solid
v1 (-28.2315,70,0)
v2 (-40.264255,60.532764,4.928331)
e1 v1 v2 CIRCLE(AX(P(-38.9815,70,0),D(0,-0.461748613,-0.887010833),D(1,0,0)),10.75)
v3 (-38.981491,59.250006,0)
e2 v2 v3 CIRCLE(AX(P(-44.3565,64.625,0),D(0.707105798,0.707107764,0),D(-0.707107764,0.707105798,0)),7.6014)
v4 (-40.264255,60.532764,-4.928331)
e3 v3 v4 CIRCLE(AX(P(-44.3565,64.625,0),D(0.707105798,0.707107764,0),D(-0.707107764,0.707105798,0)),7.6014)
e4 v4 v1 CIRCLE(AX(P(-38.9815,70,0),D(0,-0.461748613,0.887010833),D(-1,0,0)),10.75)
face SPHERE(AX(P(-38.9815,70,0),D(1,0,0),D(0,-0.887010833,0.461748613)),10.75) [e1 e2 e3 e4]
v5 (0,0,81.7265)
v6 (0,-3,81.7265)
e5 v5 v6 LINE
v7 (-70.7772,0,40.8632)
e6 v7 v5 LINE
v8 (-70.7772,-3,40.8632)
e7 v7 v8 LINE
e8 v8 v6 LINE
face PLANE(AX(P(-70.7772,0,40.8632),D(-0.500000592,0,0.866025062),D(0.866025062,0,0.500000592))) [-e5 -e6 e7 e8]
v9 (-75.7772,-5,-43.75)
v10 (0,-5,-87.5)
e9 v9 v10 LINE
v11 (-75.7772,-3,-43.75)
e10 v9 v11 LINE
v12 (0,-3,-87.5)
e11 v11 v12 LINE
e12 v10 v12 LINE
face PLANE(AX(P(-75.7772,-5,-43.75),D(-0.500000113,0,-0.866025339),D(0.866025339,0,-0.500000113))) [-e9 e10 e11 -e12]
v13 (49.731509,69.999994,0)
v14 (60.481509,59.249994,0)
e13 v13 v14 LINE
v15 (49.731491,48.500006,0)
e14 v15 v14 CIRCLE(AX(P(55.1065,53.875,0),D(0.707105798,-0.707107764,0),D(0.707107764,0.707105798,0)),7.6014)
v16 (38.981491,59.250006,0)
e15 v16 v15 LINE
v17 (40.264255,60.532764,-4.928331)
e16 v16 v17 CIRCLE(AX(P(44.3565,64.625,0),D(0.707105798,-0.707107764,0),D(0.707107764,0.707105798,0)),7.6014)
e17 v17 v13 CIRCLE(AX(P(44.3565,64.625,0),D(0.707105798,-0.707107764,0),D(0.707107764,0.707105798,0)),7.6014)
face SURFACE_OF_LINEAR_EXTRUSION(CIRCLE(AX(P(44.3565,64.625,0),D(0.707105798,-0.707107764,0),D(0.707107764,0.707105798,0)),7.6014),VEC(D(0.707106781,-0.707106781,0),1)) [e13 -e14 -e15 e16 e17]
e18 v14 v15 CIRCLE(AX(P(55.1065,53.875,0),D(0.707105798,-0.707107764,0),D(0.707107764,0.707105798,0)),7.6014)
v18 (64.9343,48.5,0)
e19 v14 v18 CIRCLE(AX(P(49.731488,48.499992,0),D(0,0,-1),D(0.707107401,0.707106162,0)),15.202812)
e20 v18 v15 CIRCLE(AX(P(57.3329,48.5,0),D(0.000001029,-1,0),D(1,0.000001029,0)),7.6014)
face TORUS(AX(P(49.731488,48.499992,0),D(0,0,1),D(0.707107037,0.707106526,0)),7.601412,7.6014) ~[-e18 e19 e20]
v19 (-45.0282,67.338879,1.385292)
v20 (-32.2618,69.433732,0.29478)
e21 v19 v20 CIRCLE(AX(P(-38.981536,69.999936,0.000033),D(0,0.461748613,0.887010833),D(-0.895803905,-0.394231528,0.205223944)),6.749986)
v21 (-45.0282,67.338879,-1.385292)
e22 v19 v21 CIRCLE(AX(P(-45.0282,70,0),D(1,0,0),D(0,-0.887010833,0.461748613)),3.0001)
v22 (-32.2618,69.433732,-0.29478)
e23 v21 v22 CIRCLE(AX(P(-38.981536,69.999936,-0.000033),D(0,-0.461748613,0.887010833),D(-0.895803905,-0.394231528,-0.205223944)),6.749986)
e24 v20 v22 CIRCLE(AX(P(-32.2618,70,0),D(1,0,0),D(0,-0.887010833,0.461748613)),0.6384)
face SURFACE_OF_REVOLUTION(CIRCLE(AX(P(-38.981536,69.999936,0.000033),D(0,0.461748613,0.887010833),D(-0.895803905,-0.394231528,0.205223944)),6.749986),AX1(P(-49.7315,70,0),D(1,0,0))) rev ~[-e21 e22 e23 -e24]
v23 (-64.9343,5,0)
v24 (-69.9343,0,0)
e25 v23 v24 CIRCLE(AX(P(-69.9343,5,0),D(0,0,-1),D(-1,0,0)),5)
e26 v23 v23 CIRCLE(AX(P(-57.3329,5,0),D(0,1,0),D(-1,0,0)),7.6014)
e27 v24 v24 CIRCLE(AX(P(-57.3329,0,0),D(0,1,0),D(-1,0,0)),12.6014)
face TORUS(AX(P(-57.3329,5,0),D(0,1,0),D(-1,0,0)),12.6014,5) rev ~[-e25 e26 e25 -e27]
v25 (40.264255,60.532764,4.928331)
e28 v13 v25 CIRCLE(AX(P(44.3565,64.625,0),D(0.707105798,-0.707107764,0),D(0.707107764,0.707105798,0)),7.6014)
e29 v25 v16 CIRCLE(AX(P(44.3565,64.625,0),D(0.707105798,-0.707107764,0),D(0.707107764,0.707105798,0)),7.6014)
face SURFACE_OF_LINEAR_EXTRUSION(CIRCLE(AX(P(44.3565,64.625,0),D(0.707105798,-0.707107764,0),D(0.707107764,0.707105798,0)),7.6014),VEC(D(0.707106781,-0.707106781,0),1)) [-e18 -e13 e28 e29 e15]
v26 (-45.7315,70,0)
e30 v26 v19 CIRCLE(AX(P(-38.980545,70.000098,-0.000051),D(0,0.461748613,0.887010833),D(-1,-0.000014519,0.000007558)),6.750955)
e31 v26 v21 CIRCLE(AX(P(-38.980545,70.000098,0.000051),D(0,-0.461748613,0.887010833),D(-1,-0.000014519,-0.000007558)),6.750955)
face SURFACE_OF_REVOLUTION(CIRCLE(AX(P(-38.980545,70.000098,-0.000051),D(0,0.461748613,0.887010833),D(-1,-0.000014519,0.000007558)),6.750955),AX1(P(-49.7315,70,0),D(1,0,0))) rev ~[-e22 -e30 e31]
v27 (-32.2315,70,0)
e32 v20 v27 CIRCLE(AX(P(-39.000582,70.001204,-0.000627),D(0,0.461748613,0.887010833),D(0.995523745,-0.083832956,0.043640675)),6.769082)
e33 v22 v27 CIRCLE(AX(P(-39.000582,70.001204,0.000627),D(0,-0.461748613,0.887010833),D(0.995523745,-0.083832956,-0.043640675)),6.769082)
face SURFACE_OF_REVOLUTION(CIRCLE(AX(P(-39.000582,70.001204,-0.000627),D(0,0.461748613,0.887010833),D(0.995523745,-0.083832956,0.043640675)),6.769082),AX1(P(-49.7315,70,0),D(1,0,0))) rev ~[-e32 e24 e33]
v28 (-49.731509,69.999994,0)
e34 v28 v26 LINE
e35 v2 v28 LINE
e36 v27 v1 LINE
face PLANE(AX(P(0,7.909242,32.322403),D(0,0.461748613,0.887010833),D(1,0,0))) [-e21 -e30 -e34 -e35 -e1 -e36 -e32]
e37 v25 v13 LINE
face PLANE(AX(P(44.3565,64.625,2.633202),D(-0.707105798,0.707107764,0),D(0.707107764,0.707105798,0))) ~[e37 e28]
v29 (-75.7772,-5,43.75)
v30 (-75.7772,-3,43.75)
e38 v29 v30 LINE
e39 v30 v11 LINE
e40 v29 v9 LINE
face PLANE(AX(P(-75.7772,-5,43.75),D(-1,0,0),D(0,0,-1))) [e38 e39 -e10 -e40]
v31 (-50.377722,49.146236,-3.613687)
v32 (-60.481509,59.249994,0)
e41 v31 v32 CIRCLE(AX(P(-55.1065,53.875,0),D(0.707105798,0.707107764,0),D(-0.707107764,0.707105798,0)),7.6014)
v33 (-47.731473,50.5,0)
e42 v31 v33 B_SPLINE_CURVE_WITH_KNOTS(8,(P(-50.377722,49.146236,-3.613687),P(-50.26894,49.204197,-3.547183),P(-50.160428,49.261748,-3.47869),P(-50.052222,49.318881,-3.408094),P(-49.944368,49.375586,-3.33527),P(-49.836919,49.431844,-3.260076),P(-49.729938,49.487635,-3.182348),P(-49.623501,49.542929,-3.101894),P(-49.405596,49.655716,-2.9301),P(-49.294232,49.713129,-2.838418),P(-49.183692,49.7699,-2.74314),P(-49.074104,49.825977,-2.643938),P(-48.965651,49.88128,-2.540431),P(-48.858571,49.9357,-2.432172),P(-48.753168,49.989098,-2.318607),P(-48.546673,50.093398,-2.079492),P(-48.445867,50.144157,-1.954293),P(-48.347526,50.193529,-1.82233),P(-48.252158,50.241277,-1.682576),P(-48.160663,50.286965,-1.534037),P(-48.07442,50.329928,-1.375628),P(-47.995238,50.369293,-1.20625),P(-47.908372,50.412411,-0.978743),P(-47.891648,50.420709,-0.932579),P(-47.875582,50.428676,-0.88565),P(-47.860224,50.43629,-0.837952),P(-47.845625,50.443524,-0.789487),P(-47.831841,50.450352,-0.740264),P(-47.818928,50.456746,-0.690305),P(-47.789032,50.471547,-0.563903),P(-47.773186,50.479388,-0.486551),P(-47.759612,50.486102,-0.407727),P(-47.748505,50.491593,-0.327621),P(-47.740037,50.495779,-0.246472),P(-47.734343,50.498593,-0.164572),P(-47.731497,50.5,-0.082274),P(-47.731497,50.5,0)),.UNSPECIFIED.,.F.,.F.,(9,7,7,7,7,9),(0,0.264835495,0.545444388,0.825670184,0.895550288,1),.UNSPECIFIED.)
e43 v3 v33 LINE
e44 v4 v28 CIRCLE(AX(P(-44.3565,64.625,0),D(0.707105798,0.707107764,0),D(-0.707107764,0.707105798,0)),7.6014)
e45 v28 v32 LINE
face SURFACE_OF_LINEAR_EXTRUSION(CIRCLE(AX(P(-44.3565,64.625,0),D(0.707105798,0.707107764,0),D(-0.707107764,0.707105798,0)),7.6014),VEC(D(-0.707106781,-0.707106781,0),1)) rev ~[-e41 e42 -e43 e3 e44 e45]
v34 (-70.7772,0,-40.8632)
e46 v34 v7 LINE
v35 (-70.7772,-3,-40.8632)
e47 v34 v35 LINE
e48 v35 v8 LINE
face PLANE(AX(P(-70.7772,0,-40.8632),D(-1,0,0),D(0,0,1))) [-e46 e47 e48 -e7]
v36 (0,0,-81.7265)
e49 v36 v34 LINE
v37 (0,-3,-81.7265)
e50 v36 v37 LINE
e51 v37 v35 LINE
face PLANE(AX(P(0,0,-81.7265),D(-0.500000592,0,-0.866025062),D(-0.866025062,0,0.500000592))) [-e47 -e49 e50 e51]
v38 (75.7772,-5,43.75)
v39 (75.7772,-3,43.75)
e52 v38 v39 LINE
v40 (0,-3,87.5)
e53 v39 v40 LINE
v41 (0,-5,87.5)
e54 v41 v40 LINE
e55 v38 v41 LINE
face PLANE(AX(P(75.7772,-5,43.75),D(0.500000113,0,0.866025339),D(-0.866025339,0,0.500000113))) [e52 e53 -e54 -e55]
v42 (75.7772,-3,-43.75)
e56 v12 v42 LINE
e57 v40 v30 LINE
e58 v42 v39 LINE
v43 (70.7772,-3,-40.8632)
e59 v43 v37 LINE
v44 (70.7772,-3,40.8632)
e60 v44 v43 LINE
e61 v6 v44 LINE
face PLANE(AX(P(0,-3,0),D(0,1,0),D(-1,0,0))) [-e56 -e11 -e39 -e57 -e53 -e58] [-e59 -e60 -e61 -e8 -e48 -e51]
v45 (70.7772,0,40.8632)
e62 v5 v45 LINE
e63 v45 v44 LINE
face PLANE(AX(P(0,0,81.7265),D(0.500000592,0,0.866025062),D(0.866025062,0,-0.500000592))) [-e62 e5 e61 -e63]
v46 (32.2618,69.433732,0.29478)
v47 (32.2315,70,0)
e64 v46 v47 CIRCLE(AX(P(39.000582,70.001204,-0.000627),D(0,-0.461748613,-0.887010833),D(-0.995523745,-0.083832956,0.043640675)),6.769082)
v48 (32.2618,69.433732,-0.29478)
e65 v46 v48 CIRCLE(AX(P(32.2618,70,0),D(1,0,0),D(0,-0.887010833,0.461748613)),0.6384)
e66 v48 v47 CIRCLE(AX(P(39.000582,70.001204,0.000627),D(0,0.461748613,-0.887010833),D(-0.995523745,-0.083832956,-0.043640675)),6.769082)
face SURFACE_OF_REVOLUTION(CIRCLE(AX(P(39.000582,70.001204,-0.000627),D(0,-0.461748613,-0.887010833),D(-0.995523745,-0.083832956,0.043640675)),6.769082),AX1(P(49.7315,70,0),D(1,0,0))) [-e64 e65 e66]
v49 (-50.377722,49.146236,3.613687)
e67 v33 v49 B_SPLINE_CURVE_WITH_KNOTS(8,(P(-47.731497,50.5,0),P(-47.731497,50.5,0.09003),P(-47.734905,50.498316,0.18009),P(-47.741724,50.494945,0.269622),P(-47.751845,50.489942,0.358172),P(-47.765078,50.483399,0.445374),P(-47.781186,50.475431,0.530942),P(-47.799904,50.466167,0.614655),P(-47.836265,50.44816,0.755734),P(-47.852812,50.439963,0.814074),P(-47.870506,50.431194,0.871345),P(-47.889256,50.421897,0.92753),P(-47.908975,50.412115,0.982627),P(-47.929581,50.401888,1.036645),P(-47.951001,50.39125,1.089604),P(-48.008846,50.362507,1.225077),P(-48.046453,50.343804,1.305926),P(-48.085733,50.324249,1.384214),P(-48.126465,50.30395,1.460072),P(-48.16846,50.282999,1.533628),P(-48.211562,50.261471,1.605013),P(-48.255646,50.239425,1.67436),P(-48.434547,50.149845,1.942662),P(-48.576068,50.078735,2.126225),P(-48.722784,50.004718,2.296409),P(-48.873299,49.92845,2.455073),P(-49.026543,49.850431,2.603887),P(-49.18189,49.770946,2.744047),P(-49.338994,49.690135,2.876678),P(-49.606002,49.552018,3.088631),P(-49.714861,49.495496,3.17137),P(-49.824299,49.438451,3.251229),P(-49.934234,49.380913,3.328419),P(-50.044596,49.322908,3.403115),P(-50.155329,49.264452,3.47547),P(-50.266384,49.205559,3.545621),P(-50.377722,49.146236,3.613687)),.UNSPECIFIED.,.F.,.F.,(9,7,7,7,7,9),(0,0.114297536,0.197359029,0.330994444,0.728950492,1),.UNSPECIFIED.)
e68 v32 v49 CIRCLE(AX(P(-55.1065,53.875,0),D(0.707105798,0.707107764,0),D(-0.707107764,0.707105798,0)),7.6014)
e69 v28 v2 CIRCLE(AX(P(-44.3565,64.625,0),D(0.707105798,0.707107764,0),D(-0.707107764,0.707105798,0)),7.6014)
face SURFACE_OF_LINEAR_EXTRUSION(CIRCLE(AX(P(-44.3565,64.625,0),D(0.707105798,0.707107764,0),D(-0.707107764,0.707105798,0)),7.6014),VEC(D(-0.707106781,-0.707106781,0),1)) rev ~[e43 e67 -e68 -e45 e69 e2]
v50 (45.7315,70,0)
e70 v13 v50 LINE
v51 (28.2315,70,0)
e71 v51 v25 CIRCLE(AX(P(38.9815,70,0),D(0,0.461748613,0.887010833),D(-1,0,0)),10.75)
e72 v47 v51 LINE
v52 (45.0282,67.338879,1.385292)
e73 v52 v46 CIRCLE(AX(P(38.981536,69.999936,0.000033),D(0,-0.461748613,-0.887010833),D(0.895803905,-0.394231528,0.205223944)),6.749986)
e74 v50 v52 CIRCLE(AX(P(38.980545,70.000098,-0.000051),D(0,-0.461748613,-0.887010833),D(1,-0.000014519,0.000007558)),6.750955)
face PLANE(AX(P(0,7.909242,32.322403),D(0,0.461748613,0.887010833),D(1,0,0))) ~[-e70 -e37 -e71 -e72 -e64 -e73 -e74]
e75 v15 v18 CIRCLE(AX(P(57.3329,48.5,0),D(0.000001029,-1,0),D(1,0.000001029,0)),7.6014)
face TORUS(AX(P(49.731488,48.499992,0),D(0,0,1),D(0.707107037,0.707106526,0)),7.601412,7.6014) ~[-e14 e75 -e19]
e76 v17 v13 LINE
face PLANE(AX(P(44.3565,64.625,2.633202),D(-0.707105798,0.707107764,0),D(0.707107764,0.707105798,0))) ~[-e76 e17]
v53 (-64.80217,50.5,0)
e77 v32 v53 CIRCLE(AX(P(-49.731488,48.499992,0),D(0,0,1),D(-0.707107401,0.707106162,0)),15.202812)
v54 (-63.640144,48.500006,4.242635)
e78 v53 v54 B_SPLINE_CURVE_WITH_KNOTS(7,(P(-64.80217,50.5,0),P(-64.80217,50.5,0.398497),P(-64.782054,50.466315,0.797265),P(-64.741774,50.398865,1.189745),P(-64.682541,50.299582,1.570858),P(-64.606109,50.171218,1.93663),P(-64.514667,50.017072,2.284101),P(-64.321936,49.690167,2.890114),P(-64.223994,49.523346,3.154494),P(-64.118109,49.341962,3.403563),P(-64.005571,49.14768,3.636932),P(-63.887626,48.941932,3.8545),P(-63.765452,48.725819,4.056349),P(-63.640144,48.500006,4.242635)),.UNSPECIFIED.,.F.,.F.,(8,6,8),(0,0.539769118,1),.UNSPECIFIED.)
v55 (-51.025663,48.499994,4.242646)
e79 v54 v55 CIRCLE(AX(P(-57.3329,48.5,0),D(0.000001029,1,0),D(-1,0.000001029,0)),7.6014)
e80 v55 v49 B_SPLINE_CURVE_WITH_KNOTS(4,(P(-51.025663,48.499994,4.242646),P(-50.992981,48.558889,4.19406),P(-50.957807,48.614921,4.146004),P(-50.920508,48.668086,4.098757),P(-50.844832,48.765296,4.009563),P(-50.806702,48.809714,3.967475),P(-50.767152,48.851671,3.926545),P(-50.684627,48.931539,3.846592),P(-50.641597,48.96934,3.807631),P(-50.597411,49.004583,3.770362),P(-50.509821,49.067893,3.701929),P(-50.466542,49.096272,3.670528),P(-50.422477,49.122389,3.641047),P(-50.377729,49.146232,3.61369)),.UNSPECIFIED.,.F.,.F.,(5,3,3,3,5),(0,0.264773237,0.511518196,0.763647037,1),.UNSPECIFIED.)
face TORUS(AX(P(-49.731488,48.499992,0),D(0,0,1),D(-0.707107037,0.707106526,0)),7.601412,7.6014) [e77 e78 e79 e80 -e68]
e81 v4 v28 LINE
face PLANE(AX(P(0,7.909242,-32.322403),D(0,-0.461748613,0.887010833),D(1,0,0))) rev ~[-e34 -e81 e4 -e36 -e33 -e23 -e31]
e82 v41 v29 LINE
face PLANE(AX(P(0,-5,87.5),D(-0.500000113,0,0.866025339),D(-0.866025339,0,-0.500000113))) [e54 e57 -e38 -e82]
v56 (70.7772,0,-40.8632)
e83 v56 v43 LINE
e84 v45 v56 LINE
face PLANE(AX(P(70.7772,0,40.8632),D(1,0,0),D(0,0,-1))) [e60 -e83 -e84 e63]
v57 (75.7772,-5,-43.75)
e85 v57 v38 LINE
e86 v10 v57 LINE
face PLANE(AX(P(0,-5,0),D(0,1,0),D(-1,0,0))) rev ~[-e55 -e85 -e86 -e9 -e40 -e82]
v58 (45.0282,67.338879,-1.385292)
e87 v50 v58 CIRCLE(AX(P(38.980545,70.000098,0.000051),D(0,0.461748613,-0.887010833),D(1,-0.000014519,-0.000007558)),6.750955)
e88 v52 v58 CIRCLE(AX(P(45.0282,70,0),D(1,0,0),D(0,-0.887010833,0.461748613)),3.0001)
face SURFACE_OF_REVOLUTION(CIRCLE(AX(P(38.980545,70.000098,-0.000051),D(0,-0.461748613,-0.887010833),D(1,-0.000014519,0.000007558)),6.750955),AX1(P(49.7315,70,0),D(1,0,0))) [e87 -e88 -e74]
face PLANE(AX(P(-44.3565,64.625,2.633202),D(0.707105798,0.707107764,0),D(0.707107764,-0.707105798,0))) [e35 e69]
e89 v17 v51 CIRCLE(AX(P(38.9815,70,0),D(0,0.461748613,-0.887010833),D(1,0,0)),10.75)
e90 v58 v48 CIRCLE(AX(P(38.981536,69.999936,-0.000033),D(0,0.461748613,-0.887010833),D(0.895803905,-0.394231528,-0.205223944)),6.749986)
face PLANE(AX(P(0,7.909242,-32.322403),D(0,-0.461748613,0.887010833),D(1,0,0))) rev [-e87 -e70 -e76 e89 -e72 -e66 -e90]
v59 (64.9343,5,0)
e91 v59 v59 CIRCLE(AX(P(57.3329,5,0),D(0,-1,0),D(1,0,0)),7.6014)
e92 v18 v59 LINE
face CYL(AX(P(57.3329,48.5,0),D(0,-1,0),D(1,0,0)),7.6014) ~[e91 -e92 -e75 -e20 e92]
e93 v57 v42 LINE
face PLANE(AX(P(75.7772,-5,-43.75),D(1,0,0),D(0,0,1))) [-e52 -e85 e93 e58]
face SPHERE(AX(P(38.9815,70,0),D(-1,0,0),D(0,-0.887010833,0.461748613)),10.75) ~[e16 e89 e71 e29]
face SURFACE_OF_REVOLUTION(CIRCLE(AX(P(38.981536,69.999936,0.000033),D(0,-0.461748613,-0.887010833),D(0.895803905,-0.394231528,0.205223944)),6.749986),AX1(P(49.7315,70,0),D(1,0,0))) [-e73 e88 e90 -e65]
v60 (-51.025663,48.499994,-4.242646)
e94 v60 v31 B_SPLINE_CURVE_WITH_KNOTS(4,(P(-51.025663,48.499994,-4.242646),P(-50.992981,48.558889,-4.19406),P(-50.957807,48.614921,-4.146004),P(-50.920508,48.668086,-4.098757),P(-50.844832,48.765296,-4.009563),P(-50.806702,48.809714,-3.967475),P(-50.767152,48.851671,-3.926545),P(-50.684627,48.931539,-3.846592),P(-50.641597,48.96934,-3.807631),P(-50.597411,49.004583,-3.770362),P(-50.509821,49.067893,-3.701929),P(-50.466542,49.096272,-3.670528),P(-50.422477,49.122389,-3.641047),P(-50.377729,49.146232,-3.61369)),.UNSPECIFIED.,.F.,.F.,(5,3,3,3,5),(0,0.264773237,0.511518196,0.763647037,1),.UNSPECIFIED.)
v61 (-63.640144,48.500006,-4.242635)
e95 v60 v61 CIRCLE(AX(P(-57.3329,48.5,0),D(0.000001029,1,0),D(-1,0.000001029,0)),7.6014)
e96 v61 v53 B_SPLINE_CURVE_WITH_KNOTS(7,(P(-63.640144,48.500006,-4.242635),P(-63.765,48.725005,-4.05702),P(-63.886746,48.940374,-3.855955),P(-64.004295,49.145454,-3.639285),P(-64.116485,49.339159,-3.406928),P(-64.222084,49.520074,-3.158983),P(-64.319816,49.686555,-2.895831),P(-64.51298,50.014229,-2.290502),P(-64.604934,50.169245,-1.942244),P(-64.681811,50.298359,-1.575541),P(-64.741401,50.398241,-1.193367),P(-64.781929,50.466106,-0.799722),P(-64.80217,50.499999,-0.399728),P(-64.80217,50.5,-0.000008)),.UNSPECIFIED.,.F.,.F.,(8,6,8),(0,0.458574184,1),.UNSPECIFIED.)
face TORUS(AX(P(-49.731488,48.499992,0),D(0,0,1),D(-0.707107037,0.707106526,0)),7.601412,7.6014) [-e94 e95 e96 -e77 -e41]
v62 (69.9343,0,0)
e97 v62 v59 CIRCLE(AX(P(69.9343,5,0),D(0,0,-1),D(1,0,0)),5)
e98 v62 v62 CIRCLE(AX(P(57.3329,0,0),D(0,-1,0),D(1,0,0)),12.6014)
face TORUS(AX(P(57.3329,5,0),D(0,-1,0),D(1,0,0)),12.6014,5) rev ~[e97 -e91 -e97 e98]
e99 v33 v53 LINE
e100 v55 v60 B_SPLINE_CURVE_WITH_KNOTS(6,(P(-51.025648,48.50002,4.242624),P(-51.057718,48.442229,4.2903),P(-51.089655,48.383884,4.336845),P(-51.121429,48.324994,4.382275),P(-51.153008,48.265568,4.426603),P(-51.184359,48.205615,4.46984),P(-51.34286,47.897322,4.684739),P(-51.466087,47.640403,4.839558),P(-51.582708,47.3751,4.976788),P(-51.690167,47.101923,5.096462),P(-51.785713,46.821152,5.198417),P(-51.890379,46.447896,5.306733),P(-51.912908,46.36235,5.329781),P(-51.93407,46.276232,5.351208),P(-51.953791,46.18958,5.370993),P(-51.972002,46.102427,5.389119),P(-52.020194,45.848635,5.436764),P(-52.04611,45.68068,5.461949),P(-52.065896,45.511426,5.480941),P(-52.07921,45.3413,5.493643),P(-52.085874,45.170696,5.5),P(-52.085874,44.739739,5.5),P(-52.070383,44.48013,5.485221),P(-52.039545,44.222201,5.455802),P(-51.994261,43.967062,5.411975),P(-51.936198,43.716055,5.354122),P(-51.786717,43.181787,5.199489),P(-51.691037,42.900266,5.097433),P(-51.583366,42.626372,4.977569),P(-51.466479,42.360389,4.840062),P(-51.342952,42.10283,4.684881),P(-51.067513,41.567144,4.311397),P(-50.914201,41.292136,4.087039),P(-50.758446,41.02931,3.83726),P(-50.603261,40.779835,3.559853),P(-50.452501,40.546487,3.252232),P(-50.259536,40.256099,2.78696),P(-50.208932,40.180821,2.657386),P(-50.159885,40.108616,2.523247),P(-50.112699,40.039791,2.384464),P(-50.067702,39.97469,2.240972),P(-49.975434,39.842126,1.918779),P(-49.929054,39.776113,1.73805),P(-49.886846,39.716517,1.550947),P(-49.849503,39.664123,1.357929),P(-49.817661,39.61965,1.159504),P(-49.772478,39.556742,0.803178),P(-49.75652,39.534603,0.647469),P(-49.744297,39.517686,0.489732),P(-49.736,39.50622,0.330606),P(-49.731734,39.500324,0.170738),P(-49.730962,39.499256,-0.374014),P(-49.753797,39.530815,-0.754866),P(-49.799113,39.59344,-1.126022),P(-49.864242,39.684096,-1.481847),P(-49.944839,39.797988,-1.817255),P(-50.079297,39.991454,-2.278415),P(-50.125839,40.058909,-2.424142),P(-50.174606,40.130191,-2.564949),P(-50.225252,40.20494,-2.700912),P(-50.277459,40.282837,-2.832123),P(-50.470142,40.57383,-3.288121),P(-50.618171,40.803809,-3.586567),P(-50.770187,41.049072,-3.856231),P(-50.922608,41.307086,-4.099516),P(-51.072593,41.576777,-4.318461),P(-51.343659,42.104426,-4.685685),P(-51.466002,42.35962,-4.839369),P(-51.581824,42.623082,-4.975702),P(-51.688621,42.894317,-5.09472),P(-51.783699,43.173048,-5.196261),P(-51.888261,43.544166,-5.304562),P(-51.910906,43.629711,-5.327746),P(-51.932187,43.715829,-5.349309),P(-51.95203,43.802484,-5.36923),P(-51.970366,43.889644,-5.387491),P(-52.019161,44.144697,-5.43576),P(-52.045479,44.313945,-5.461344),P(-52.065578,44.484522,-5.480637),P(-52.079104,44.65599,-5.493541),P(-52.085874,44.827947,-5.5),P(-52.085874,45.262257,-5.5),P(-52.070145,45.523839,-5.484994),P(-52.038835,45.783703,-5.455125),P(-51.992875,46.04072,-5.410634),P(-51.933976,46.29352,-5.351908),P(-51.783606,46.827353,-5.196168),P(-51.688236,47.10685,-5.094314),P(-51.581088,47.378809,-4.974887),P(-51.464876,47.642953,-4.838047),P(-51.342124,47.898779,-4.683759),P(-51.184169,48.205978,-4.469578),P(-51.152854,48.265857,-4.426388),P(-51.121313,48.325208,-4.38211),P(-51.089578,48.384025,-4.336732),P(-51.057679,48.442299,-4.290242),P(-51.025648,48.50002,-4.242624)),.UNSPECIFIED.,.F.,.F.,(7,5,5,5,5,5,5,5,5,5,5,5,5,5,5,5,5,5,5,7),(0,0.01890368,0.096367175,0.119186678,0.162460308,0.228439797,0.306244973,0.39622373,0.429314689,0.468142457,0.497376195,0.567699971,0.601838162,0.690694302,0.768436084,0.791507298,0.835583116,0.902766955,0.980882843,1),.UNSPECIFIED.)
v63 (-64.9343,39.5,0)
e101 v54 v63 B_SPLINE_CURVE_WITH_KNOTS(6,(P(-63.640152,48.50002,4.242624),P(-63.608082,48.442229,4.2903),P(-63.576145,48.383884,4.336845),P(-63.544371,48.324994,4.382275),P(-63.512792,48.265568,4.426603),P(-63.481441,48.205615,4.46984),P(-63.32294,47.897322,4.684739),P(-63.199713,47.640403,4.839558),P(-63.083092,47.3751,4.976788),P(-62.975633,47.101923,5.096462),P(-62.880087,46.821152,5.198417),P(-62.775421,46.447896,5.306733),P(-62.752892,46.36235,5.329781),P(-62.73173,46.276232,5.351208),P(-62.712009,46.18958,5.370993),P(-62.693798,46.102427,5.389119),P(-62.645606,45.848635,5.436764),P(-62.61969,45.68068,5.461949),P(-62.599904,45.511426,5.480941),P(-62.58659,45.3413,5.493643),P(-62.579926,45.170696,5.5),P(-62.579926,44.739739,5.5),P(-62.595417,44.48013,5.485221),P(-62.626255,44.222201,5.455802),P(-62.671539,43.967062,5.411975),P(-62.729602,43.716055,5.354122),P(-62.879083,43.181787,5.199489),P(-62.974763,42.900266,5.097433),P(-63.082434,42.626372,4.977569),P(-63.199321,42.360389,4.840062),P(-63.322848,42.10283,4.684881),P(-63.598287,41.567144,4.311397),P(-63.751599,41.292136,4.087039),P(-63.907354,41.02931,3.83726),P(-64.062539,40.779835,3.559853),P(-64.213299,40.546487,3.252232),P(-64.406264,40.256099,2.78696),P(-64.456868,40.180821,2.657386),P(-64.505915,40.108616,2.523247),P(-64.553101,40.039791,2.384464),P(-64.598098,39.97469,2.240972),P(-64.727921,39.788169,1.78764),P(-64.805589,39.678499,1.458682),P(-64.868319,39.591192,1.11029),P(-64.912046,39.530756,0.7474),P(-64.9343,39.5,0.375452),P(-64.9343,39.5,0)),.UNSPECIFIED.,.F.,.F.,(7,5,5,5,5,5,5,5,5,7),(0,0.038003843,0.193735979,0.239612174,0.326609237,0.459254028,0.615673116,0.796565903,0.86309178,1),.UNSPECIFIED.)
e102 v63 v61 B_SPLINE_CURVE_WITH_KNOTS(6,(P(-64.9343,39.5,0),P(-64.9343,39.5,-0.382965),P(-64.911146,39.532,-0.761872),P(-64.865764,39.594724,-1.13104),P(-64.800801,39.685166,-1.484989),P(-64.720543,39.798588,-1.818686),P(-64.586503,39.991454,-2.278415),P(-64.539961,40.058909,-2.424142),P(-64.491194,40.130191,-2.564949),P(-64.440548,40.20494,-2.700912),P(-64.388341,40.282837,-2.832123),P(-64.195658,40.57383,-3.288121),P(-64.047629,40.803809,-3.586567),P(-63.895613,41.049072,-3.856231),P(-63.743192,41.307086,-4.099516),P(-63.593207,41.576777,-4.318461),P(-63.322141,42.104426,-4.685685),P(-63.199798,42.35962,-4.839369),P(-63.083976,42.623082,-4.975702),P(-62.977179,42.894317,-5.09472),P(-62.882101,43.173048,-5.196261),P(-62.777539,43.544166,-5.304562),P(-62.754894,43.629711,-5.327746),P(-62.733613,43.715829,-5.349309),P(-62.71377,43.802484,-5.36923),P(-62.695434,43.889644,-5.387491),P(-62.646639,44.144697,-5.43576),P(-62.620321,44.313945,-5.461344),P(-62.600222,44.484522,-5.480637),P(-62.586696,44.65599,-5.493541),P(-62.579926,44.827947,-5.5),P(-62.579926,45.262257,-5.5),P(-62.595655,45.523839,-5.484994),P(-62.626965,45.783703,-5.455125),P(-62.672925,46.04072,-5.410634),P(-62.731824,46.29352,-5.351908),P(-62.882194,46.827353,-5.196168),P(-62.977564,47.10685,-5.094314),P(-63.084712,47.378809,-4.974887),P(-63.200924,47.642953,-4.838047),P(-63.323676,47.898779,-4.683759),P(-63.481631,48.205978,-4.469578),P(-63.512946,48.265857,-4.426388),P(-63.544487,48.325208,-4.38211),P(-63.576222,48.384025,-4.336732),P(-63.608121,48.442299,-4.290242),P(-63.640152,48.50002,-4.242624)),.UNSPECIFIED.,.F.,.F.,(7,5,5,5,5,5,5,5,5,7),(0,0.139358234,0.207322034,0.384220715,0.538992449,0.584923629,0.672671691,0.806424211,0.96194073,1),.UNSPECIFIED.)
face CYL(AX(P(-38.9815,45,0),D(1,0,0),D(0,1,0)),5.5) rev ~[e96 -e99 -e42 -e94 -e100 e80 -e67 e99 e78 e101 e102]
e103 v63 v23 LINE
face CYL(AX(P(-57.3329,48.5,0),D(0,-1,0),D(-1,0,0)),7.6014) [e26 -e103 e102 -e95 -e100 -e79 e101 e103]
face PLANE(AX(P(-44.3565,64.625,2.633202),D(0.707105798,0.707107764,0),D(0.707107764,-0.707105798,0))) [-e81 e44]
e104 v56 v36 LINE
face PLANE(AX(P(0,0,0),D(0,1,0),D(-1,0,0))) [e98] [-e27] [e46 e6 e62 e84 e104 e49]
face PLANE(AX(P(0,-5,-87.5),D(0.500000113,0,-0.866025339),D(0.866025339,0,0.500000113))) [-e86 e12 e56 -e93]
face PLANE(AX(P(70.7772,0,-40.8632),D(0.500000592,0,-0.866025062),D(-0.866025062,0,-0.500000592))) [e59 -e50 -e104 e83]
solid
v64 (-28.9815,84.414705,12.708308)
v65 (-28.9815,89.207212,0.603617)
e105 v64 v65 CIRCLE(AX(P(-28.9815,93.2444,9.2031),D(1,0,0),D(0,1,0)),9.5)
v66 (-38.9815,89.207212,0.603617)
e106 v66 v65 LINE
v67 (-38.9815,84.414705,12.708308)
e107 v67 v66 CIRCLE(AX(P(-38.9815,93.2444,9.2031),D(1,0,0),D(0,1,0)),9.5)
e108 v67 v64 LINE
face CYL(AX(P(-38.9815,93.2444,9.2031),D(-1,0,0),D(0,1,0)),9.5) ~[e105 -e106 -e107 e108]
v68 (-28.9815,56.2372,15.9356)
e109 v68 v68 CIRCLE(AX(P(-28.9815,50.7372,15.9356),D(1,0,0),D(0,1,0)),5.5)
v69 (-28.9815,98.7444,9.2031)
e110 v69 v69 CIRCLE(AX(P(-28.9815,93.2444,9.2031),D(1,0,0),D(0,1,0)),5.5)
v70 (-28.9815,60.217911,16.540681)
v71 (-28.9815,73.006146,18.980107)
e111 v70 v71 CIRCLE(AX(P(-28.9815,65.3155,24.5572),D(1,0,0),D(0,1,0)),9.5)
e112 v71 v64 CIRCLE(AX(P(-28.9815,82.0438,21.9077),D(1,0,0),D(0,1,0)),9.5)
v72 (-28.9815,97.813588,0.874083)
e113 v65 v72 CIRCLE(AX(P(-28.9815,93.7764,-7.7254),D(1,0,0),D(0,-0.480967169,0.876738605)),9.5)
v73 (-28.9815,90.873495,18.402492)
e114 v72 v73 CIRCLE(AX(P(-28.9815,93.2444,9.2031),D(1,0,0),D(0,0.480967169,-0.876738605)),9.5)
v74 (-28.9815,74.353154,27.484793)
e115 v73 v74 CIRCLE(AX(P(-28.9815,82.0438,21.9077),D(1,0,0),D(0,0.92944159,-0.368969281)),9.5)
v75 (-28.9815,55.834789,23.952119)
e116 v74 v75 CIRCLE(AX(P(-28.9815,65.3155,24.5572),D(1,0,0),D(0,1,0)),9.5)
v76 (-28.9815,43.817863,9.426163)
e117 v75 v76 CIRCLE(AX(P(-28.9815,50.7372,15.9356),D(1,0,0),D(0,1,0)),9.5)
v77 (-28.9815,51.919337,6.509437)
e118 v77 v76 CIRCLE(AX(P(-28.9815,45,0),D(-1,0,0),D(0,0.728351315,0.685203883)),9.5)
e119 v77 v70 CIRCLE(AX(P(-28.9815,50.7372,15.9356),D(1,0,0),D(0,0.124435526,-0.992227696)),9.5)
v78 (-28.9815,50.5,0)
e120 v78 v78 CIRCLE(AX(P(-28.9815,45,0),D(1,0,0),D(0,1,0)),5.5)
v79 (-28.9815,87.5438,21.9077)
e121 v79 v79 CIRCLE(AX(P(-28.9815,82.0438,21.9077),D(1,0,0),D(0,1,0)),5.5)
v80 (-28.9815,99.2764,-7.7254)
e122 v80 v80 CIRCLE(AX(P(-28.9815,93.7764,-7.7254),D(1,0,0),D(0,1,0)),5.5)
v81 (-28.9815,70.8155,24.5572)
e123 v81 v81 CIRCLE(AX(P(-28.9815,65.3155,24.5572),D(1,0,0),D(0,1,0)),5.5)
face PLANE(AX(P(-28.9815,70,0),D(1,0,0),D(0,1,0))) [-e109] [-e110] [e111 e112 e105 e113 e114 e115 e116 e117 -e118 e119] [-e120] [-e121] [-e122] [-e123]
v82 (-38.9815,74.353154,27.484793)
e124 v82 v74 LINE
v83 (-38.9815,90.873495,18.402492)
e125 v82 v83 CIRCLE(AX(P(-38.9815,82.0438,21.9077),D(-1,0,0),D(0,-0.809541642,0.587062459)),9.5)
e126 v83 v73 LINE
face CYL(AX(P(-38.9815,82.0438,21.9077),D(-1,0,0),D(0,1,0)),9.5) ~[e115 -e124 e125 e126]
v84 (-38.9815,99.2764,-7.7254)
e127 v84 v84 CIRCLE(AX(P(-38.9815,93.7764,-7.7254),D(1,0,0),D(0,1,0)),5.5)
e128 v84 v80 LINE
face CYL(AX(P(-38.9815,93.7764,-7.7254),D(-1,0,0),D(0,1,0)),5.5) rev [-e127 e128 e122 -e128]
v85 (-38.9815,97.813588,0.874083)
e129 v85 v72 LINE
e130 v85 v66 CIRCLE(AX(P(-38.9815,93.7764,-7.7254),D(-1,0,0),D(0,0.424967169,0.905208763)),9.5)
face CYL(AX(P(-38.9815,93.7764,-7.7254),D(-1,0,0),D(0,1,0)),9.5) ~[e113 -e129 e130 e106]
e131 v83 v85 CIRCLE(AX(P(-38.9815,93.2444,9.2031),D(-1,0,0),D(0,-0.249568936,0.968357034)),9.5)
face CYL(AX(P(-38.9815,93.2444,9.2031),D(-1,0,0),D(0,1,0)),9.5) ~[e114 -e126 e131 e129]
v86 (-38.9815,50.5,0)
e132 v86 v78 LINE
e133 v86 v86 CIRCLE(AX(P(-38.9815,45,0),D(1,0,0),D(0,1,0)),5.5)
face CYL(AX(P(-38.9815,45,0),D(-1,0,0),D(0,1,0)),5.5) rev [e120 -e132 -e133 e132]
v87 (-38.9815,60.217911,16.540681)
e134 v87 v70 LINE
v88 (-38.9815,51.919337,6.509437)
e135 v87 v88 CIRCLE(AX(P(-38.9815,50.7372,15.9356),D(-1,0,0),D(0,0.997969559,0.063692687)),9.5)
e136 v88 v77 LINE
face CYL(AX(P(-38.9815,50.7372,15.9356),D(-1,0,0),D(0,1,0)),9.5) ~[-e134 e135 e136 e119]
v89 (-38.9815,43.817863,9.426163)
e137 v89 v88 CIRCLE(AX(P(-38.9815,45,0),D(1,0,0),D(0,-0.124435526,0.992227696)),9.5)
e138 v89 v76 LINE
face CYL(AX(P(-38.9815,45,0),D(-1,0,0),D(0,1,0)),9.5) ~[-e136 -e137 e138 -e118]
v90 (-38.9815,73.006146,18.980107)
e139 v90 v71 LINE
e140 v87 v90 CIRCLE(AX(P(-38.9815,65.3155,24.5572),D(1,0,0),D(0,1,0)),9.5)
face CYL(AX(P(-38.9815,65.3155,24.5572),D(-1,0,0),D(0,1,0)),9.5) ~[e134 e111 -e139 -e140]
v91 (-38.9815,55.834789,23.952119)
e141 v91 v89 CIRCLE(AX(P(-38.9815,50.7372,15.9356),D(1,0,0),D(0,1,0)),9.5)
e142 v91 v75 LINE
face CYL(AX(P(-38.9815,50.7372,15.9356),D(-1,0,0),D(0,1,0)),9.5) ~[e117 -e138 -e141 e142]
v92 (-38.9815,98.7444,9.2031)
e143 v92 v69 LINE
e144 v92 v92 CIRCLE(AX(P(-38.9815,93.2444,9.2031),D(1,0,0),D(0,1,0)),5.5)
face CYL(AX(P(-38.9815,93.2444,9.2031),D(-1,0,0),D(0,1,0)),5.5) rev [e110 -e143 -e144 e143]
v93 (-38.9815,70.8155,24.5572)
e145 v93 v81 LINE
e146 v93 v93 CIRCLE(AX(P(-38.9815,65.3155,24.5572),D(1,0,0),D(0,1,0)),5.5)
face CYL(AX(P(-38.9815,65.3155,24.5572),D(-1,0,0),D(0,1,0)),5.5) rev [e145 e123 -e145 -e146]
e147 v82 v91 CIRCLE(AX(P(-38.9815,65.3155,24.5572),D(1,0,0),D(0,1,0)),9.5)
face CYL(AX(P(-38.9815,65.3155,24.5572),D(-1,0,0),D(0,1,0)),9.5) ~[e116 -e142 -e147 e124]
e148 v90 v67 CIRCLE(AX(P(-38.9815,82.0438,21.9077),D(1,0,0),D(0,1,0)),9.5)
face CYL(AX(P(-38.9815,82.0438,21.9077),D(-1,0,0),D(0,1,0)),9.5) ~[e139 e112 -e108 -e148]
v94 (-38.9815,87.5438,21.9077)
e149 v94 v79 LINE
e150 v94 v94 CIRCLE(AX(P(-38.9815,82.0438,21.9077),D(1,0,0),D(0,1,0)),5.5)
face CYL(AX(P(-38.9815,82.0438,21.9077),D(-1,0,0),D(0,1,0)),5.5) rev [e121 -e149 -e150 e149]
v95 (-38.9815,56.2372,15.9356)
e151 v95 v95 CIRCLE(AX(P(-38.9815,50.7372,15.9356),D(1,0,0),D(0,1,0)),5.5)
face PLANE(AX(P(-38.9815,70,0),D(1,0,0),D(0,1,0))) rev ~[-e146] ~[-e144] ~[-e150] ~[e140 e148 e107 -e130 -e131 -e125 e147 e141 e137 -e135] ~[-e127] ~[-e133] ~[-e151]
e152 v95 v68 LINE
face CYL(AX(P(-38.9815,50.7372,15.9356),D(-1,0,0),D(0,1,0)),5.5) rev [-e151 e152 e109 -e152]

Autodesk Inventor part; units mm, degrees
ref_plane "XZ Plane" through (0, 0, 0) normal (0, 1, 0) x (-1, 0, 0)
sketch "Sketch2" plane through (0, 0, 0) normal (0, 0, 1) x (1, 0, 0)
  line L0 (0, 0) -> (-38.9815, 0)
  line L1 (-46.3001, 0) -> (-38.9815, 0)
  arc A0 (-49.7315, 70) -> (-38.9815, 59.25) centre (-38.9815, 70) ccw
  line L2 (-49.7315, 70) -> (-28.2315, 70)
  arc A1 (-45.7315, 70) -> (-45.0282, 66.9999) centre (-38.9815, 70) ccw
  line L3 (-38.9815, 70) -> (-32.2315, 70) construction
  line L4 (-38.9815, 70) -> (-45.7315, 70) construction
  arc A2 (-38.9815, 59.25) -> (-28.2315, 70) centre (-38.9815, 70) ccw
  line L5 (-38.9815, 0) -> (-31.6629, 0)
  arc A3 (-45.0282, 66.9999) -> (-32.2618, 69.3616) centre (-38.9815, 70) ccw
  arc A4 (-32.2618, 69.3616) -> (-32.2315, 70) centre (-38.9815, 70) ccw
  line L6 (-49.7315, 70) -> (-38.9815, 59.25)
  line L7 (-49.7315, 48.5) -> (-60.4815, 59.25)
  line L8 (-60.4815, 59.25) -> (-49.7315, 70)
  line L9 (-38.9815, 59.25) -> (-49.7315, 48.5)
  line L10 (-49.7315, 48.5) -> (-64.9343, 48.5)
  line L11 (-64.9343, 48.5) -> (-64.9343, 0)
  line L12 (-64.9343, 0) -> (-49.7315, 0)
  line L13 (-49.7315, 0) -> (-49.7315, 48.5)
  arc A5 (-60.4815, 59.25) -> (-64.9343, 48.5) centre (-49.7315, 48.5) ccw
  line L14 (-49.7315, 70) -> (-49.7315, 48.5) construction
  line L15 (-38.9815, 70) -> (-38.9815, 0) construction
  line L16 (-44.3565, 64.625) -> (-55.1065, 53.875)
  line L17 (-57.3329, 48.5) -> (-57.3329, 0)
  arc A6 (-55.1065, 53.875) -> (-57.3329, 48.5) centre (-49.7315, 48.5) ccw
  dimension "d1" = 38.9815
  dimension "d2" = 180
  dimension "d3" = 6.75
  dimension "d4" = 4
  dimension "d5" = 70
  dimension "d32" = 90
revolve "Revolution1" add sketch "Sketch2" angle 55 mid plane about axis through (-49.7315, 70, 0) along (1, 0, 0) contours L6 L16 A0 | L2 A1 A3 A4 A2 L6 | L16 L6 A0
sketch "Sketch3" plane through (0, 0, 0) normal (0, 1, 0) x (-1, 0, 0)
  circle A0 centre (0, 0) radius 87.5
  circle A1 centre (38.9815, 0) radius 7.3186 projected
  line L0 (0, -87.5) -> (-75.7772, -43.75)
  line L1 (-75.7772, -43.75) -> (-75.7772, 43.75)
  line L2 (-75.7772, 43.75) -> (0, 87.5)
  line L3 (0, 87.5) -> (75.7772, 43.75)
  line L4 (75.7772, 43.75) -> (75.7772, -43.75)
  line L5 (75.7772, -43.75) -> (0, -87.5)
  line L6 (-70.7772, -40.8632) -> (0, -81.7265)
  line L7 (0, -81.7265) -> (70.7772, -40.8632)
  line L8 (70.7772, -40.8632) -> (70.7772, 40.8632)
  line L9 (70.7772, 40.8632) -> (0, 81.7265)
  line L10 (0, 81.7265) -> (-70.7772, 40.8632)
  line L11 (-70.7772, 40.8632) -> (-70.7772, -40.8632)
  dimension "d14" = 175
  dimension "d15" = 5
extrude "Extrusion3" add sketch "Sketch3" against normal blind 5 contours A1 | L11 L10 L9 L8 L7 L6
extrude "Extrusion4" add sketch "Sketch3" along normal blind 2 from surface at -5 contours L4 L5 L0 L1 L2 L3
sketch "Sketch7" plane through (0, 0, 0) normal (0, 1, 0) x (-1, 0, 0)
  circle A0 centre (57.3329, 0) radius 7.6014
  line L0 (64.9343, 0) -> (49.7315, 0) projected
  point P0 (0, 0)
  point P1 (49.7315, 0)
sweep "Sweep1" add profiles "Sketch7" path "Sketch2" path curves L17 A6 L16
ref_plane "Work Plane1" through (-38.9815, 70, 0) normal (1, 0, 0) x (0, 1, 0)
sketch "Sketch8" plane through (-38.9815, 70, 0) normal (1, 0, 0) x (0, 1, 0)
  point P0 (-70, 0)
sketch "Sketch10" plane through (-38.9815, 70, 0) normal (1, 0, 0) x (0, 1, 0)
  line L0 (0, 0) -> (-25, 0) construction
  circle A0 centre (-25, 0) radius 5.5
  circle A1 centre (-25, 0) radius 9.5
  circle A2 centre (0, 0) radius 25 construction
  circle A3 centre (-19.2628, 15.9356) radius 9.5
  circle A4 centre (-19.2628, 15.9356) radius 5.5
  circle A5 centre (-4.6845, 24.5572) radius 9.5
  circle A6 centre (-4.6845, 24.5572) radius 5.5
  circle A7 centre (12.0438, 21.9077) radius 9.5
  circle A8 centre (12.0438, 21.9077) radius 5.5
  circle A9 centre (23.2444, 9.2031) radius 9.5
  circle A10 centre (23.2444, 9.2031) radius 5.5
  circle A11 centre (23.7764, -7.7254) radius 9.5
  circle A12 centre (23.7764, -7.7254) radius 5.5
  point P0 (-70, 0)
  dimension "d38" = 11
  dimension "d39" = 4
  dimension "d42" = 198
  dimension "d49" = 25
extrude "Extrusion7" add sketch "Sketch10" along normal blind 10
extrude "Extrusion8" cut sketch "Sketch10" against normal through all contours A0
extrude "Extrusion9" [suppressed]
fillet "Fillet5" radius 5 1 edges at (-49.7315, 0, 0)
mirror "Mirror4" about plane through (0, 0, 0) normal (1, 0, 0) of "Sweep1", "Revolution1", "Fillet5"
equation "\"d1\" = 0.5 * ballDist"
equation "\"d3\" = 0.5 * ballDiam + clearance"
equation "\"ballDist\" = 77.963"
equation "\"ballDiam\" = 12.7"
equation "\"clearance\" = 0.4"
properties part number "mounter"
